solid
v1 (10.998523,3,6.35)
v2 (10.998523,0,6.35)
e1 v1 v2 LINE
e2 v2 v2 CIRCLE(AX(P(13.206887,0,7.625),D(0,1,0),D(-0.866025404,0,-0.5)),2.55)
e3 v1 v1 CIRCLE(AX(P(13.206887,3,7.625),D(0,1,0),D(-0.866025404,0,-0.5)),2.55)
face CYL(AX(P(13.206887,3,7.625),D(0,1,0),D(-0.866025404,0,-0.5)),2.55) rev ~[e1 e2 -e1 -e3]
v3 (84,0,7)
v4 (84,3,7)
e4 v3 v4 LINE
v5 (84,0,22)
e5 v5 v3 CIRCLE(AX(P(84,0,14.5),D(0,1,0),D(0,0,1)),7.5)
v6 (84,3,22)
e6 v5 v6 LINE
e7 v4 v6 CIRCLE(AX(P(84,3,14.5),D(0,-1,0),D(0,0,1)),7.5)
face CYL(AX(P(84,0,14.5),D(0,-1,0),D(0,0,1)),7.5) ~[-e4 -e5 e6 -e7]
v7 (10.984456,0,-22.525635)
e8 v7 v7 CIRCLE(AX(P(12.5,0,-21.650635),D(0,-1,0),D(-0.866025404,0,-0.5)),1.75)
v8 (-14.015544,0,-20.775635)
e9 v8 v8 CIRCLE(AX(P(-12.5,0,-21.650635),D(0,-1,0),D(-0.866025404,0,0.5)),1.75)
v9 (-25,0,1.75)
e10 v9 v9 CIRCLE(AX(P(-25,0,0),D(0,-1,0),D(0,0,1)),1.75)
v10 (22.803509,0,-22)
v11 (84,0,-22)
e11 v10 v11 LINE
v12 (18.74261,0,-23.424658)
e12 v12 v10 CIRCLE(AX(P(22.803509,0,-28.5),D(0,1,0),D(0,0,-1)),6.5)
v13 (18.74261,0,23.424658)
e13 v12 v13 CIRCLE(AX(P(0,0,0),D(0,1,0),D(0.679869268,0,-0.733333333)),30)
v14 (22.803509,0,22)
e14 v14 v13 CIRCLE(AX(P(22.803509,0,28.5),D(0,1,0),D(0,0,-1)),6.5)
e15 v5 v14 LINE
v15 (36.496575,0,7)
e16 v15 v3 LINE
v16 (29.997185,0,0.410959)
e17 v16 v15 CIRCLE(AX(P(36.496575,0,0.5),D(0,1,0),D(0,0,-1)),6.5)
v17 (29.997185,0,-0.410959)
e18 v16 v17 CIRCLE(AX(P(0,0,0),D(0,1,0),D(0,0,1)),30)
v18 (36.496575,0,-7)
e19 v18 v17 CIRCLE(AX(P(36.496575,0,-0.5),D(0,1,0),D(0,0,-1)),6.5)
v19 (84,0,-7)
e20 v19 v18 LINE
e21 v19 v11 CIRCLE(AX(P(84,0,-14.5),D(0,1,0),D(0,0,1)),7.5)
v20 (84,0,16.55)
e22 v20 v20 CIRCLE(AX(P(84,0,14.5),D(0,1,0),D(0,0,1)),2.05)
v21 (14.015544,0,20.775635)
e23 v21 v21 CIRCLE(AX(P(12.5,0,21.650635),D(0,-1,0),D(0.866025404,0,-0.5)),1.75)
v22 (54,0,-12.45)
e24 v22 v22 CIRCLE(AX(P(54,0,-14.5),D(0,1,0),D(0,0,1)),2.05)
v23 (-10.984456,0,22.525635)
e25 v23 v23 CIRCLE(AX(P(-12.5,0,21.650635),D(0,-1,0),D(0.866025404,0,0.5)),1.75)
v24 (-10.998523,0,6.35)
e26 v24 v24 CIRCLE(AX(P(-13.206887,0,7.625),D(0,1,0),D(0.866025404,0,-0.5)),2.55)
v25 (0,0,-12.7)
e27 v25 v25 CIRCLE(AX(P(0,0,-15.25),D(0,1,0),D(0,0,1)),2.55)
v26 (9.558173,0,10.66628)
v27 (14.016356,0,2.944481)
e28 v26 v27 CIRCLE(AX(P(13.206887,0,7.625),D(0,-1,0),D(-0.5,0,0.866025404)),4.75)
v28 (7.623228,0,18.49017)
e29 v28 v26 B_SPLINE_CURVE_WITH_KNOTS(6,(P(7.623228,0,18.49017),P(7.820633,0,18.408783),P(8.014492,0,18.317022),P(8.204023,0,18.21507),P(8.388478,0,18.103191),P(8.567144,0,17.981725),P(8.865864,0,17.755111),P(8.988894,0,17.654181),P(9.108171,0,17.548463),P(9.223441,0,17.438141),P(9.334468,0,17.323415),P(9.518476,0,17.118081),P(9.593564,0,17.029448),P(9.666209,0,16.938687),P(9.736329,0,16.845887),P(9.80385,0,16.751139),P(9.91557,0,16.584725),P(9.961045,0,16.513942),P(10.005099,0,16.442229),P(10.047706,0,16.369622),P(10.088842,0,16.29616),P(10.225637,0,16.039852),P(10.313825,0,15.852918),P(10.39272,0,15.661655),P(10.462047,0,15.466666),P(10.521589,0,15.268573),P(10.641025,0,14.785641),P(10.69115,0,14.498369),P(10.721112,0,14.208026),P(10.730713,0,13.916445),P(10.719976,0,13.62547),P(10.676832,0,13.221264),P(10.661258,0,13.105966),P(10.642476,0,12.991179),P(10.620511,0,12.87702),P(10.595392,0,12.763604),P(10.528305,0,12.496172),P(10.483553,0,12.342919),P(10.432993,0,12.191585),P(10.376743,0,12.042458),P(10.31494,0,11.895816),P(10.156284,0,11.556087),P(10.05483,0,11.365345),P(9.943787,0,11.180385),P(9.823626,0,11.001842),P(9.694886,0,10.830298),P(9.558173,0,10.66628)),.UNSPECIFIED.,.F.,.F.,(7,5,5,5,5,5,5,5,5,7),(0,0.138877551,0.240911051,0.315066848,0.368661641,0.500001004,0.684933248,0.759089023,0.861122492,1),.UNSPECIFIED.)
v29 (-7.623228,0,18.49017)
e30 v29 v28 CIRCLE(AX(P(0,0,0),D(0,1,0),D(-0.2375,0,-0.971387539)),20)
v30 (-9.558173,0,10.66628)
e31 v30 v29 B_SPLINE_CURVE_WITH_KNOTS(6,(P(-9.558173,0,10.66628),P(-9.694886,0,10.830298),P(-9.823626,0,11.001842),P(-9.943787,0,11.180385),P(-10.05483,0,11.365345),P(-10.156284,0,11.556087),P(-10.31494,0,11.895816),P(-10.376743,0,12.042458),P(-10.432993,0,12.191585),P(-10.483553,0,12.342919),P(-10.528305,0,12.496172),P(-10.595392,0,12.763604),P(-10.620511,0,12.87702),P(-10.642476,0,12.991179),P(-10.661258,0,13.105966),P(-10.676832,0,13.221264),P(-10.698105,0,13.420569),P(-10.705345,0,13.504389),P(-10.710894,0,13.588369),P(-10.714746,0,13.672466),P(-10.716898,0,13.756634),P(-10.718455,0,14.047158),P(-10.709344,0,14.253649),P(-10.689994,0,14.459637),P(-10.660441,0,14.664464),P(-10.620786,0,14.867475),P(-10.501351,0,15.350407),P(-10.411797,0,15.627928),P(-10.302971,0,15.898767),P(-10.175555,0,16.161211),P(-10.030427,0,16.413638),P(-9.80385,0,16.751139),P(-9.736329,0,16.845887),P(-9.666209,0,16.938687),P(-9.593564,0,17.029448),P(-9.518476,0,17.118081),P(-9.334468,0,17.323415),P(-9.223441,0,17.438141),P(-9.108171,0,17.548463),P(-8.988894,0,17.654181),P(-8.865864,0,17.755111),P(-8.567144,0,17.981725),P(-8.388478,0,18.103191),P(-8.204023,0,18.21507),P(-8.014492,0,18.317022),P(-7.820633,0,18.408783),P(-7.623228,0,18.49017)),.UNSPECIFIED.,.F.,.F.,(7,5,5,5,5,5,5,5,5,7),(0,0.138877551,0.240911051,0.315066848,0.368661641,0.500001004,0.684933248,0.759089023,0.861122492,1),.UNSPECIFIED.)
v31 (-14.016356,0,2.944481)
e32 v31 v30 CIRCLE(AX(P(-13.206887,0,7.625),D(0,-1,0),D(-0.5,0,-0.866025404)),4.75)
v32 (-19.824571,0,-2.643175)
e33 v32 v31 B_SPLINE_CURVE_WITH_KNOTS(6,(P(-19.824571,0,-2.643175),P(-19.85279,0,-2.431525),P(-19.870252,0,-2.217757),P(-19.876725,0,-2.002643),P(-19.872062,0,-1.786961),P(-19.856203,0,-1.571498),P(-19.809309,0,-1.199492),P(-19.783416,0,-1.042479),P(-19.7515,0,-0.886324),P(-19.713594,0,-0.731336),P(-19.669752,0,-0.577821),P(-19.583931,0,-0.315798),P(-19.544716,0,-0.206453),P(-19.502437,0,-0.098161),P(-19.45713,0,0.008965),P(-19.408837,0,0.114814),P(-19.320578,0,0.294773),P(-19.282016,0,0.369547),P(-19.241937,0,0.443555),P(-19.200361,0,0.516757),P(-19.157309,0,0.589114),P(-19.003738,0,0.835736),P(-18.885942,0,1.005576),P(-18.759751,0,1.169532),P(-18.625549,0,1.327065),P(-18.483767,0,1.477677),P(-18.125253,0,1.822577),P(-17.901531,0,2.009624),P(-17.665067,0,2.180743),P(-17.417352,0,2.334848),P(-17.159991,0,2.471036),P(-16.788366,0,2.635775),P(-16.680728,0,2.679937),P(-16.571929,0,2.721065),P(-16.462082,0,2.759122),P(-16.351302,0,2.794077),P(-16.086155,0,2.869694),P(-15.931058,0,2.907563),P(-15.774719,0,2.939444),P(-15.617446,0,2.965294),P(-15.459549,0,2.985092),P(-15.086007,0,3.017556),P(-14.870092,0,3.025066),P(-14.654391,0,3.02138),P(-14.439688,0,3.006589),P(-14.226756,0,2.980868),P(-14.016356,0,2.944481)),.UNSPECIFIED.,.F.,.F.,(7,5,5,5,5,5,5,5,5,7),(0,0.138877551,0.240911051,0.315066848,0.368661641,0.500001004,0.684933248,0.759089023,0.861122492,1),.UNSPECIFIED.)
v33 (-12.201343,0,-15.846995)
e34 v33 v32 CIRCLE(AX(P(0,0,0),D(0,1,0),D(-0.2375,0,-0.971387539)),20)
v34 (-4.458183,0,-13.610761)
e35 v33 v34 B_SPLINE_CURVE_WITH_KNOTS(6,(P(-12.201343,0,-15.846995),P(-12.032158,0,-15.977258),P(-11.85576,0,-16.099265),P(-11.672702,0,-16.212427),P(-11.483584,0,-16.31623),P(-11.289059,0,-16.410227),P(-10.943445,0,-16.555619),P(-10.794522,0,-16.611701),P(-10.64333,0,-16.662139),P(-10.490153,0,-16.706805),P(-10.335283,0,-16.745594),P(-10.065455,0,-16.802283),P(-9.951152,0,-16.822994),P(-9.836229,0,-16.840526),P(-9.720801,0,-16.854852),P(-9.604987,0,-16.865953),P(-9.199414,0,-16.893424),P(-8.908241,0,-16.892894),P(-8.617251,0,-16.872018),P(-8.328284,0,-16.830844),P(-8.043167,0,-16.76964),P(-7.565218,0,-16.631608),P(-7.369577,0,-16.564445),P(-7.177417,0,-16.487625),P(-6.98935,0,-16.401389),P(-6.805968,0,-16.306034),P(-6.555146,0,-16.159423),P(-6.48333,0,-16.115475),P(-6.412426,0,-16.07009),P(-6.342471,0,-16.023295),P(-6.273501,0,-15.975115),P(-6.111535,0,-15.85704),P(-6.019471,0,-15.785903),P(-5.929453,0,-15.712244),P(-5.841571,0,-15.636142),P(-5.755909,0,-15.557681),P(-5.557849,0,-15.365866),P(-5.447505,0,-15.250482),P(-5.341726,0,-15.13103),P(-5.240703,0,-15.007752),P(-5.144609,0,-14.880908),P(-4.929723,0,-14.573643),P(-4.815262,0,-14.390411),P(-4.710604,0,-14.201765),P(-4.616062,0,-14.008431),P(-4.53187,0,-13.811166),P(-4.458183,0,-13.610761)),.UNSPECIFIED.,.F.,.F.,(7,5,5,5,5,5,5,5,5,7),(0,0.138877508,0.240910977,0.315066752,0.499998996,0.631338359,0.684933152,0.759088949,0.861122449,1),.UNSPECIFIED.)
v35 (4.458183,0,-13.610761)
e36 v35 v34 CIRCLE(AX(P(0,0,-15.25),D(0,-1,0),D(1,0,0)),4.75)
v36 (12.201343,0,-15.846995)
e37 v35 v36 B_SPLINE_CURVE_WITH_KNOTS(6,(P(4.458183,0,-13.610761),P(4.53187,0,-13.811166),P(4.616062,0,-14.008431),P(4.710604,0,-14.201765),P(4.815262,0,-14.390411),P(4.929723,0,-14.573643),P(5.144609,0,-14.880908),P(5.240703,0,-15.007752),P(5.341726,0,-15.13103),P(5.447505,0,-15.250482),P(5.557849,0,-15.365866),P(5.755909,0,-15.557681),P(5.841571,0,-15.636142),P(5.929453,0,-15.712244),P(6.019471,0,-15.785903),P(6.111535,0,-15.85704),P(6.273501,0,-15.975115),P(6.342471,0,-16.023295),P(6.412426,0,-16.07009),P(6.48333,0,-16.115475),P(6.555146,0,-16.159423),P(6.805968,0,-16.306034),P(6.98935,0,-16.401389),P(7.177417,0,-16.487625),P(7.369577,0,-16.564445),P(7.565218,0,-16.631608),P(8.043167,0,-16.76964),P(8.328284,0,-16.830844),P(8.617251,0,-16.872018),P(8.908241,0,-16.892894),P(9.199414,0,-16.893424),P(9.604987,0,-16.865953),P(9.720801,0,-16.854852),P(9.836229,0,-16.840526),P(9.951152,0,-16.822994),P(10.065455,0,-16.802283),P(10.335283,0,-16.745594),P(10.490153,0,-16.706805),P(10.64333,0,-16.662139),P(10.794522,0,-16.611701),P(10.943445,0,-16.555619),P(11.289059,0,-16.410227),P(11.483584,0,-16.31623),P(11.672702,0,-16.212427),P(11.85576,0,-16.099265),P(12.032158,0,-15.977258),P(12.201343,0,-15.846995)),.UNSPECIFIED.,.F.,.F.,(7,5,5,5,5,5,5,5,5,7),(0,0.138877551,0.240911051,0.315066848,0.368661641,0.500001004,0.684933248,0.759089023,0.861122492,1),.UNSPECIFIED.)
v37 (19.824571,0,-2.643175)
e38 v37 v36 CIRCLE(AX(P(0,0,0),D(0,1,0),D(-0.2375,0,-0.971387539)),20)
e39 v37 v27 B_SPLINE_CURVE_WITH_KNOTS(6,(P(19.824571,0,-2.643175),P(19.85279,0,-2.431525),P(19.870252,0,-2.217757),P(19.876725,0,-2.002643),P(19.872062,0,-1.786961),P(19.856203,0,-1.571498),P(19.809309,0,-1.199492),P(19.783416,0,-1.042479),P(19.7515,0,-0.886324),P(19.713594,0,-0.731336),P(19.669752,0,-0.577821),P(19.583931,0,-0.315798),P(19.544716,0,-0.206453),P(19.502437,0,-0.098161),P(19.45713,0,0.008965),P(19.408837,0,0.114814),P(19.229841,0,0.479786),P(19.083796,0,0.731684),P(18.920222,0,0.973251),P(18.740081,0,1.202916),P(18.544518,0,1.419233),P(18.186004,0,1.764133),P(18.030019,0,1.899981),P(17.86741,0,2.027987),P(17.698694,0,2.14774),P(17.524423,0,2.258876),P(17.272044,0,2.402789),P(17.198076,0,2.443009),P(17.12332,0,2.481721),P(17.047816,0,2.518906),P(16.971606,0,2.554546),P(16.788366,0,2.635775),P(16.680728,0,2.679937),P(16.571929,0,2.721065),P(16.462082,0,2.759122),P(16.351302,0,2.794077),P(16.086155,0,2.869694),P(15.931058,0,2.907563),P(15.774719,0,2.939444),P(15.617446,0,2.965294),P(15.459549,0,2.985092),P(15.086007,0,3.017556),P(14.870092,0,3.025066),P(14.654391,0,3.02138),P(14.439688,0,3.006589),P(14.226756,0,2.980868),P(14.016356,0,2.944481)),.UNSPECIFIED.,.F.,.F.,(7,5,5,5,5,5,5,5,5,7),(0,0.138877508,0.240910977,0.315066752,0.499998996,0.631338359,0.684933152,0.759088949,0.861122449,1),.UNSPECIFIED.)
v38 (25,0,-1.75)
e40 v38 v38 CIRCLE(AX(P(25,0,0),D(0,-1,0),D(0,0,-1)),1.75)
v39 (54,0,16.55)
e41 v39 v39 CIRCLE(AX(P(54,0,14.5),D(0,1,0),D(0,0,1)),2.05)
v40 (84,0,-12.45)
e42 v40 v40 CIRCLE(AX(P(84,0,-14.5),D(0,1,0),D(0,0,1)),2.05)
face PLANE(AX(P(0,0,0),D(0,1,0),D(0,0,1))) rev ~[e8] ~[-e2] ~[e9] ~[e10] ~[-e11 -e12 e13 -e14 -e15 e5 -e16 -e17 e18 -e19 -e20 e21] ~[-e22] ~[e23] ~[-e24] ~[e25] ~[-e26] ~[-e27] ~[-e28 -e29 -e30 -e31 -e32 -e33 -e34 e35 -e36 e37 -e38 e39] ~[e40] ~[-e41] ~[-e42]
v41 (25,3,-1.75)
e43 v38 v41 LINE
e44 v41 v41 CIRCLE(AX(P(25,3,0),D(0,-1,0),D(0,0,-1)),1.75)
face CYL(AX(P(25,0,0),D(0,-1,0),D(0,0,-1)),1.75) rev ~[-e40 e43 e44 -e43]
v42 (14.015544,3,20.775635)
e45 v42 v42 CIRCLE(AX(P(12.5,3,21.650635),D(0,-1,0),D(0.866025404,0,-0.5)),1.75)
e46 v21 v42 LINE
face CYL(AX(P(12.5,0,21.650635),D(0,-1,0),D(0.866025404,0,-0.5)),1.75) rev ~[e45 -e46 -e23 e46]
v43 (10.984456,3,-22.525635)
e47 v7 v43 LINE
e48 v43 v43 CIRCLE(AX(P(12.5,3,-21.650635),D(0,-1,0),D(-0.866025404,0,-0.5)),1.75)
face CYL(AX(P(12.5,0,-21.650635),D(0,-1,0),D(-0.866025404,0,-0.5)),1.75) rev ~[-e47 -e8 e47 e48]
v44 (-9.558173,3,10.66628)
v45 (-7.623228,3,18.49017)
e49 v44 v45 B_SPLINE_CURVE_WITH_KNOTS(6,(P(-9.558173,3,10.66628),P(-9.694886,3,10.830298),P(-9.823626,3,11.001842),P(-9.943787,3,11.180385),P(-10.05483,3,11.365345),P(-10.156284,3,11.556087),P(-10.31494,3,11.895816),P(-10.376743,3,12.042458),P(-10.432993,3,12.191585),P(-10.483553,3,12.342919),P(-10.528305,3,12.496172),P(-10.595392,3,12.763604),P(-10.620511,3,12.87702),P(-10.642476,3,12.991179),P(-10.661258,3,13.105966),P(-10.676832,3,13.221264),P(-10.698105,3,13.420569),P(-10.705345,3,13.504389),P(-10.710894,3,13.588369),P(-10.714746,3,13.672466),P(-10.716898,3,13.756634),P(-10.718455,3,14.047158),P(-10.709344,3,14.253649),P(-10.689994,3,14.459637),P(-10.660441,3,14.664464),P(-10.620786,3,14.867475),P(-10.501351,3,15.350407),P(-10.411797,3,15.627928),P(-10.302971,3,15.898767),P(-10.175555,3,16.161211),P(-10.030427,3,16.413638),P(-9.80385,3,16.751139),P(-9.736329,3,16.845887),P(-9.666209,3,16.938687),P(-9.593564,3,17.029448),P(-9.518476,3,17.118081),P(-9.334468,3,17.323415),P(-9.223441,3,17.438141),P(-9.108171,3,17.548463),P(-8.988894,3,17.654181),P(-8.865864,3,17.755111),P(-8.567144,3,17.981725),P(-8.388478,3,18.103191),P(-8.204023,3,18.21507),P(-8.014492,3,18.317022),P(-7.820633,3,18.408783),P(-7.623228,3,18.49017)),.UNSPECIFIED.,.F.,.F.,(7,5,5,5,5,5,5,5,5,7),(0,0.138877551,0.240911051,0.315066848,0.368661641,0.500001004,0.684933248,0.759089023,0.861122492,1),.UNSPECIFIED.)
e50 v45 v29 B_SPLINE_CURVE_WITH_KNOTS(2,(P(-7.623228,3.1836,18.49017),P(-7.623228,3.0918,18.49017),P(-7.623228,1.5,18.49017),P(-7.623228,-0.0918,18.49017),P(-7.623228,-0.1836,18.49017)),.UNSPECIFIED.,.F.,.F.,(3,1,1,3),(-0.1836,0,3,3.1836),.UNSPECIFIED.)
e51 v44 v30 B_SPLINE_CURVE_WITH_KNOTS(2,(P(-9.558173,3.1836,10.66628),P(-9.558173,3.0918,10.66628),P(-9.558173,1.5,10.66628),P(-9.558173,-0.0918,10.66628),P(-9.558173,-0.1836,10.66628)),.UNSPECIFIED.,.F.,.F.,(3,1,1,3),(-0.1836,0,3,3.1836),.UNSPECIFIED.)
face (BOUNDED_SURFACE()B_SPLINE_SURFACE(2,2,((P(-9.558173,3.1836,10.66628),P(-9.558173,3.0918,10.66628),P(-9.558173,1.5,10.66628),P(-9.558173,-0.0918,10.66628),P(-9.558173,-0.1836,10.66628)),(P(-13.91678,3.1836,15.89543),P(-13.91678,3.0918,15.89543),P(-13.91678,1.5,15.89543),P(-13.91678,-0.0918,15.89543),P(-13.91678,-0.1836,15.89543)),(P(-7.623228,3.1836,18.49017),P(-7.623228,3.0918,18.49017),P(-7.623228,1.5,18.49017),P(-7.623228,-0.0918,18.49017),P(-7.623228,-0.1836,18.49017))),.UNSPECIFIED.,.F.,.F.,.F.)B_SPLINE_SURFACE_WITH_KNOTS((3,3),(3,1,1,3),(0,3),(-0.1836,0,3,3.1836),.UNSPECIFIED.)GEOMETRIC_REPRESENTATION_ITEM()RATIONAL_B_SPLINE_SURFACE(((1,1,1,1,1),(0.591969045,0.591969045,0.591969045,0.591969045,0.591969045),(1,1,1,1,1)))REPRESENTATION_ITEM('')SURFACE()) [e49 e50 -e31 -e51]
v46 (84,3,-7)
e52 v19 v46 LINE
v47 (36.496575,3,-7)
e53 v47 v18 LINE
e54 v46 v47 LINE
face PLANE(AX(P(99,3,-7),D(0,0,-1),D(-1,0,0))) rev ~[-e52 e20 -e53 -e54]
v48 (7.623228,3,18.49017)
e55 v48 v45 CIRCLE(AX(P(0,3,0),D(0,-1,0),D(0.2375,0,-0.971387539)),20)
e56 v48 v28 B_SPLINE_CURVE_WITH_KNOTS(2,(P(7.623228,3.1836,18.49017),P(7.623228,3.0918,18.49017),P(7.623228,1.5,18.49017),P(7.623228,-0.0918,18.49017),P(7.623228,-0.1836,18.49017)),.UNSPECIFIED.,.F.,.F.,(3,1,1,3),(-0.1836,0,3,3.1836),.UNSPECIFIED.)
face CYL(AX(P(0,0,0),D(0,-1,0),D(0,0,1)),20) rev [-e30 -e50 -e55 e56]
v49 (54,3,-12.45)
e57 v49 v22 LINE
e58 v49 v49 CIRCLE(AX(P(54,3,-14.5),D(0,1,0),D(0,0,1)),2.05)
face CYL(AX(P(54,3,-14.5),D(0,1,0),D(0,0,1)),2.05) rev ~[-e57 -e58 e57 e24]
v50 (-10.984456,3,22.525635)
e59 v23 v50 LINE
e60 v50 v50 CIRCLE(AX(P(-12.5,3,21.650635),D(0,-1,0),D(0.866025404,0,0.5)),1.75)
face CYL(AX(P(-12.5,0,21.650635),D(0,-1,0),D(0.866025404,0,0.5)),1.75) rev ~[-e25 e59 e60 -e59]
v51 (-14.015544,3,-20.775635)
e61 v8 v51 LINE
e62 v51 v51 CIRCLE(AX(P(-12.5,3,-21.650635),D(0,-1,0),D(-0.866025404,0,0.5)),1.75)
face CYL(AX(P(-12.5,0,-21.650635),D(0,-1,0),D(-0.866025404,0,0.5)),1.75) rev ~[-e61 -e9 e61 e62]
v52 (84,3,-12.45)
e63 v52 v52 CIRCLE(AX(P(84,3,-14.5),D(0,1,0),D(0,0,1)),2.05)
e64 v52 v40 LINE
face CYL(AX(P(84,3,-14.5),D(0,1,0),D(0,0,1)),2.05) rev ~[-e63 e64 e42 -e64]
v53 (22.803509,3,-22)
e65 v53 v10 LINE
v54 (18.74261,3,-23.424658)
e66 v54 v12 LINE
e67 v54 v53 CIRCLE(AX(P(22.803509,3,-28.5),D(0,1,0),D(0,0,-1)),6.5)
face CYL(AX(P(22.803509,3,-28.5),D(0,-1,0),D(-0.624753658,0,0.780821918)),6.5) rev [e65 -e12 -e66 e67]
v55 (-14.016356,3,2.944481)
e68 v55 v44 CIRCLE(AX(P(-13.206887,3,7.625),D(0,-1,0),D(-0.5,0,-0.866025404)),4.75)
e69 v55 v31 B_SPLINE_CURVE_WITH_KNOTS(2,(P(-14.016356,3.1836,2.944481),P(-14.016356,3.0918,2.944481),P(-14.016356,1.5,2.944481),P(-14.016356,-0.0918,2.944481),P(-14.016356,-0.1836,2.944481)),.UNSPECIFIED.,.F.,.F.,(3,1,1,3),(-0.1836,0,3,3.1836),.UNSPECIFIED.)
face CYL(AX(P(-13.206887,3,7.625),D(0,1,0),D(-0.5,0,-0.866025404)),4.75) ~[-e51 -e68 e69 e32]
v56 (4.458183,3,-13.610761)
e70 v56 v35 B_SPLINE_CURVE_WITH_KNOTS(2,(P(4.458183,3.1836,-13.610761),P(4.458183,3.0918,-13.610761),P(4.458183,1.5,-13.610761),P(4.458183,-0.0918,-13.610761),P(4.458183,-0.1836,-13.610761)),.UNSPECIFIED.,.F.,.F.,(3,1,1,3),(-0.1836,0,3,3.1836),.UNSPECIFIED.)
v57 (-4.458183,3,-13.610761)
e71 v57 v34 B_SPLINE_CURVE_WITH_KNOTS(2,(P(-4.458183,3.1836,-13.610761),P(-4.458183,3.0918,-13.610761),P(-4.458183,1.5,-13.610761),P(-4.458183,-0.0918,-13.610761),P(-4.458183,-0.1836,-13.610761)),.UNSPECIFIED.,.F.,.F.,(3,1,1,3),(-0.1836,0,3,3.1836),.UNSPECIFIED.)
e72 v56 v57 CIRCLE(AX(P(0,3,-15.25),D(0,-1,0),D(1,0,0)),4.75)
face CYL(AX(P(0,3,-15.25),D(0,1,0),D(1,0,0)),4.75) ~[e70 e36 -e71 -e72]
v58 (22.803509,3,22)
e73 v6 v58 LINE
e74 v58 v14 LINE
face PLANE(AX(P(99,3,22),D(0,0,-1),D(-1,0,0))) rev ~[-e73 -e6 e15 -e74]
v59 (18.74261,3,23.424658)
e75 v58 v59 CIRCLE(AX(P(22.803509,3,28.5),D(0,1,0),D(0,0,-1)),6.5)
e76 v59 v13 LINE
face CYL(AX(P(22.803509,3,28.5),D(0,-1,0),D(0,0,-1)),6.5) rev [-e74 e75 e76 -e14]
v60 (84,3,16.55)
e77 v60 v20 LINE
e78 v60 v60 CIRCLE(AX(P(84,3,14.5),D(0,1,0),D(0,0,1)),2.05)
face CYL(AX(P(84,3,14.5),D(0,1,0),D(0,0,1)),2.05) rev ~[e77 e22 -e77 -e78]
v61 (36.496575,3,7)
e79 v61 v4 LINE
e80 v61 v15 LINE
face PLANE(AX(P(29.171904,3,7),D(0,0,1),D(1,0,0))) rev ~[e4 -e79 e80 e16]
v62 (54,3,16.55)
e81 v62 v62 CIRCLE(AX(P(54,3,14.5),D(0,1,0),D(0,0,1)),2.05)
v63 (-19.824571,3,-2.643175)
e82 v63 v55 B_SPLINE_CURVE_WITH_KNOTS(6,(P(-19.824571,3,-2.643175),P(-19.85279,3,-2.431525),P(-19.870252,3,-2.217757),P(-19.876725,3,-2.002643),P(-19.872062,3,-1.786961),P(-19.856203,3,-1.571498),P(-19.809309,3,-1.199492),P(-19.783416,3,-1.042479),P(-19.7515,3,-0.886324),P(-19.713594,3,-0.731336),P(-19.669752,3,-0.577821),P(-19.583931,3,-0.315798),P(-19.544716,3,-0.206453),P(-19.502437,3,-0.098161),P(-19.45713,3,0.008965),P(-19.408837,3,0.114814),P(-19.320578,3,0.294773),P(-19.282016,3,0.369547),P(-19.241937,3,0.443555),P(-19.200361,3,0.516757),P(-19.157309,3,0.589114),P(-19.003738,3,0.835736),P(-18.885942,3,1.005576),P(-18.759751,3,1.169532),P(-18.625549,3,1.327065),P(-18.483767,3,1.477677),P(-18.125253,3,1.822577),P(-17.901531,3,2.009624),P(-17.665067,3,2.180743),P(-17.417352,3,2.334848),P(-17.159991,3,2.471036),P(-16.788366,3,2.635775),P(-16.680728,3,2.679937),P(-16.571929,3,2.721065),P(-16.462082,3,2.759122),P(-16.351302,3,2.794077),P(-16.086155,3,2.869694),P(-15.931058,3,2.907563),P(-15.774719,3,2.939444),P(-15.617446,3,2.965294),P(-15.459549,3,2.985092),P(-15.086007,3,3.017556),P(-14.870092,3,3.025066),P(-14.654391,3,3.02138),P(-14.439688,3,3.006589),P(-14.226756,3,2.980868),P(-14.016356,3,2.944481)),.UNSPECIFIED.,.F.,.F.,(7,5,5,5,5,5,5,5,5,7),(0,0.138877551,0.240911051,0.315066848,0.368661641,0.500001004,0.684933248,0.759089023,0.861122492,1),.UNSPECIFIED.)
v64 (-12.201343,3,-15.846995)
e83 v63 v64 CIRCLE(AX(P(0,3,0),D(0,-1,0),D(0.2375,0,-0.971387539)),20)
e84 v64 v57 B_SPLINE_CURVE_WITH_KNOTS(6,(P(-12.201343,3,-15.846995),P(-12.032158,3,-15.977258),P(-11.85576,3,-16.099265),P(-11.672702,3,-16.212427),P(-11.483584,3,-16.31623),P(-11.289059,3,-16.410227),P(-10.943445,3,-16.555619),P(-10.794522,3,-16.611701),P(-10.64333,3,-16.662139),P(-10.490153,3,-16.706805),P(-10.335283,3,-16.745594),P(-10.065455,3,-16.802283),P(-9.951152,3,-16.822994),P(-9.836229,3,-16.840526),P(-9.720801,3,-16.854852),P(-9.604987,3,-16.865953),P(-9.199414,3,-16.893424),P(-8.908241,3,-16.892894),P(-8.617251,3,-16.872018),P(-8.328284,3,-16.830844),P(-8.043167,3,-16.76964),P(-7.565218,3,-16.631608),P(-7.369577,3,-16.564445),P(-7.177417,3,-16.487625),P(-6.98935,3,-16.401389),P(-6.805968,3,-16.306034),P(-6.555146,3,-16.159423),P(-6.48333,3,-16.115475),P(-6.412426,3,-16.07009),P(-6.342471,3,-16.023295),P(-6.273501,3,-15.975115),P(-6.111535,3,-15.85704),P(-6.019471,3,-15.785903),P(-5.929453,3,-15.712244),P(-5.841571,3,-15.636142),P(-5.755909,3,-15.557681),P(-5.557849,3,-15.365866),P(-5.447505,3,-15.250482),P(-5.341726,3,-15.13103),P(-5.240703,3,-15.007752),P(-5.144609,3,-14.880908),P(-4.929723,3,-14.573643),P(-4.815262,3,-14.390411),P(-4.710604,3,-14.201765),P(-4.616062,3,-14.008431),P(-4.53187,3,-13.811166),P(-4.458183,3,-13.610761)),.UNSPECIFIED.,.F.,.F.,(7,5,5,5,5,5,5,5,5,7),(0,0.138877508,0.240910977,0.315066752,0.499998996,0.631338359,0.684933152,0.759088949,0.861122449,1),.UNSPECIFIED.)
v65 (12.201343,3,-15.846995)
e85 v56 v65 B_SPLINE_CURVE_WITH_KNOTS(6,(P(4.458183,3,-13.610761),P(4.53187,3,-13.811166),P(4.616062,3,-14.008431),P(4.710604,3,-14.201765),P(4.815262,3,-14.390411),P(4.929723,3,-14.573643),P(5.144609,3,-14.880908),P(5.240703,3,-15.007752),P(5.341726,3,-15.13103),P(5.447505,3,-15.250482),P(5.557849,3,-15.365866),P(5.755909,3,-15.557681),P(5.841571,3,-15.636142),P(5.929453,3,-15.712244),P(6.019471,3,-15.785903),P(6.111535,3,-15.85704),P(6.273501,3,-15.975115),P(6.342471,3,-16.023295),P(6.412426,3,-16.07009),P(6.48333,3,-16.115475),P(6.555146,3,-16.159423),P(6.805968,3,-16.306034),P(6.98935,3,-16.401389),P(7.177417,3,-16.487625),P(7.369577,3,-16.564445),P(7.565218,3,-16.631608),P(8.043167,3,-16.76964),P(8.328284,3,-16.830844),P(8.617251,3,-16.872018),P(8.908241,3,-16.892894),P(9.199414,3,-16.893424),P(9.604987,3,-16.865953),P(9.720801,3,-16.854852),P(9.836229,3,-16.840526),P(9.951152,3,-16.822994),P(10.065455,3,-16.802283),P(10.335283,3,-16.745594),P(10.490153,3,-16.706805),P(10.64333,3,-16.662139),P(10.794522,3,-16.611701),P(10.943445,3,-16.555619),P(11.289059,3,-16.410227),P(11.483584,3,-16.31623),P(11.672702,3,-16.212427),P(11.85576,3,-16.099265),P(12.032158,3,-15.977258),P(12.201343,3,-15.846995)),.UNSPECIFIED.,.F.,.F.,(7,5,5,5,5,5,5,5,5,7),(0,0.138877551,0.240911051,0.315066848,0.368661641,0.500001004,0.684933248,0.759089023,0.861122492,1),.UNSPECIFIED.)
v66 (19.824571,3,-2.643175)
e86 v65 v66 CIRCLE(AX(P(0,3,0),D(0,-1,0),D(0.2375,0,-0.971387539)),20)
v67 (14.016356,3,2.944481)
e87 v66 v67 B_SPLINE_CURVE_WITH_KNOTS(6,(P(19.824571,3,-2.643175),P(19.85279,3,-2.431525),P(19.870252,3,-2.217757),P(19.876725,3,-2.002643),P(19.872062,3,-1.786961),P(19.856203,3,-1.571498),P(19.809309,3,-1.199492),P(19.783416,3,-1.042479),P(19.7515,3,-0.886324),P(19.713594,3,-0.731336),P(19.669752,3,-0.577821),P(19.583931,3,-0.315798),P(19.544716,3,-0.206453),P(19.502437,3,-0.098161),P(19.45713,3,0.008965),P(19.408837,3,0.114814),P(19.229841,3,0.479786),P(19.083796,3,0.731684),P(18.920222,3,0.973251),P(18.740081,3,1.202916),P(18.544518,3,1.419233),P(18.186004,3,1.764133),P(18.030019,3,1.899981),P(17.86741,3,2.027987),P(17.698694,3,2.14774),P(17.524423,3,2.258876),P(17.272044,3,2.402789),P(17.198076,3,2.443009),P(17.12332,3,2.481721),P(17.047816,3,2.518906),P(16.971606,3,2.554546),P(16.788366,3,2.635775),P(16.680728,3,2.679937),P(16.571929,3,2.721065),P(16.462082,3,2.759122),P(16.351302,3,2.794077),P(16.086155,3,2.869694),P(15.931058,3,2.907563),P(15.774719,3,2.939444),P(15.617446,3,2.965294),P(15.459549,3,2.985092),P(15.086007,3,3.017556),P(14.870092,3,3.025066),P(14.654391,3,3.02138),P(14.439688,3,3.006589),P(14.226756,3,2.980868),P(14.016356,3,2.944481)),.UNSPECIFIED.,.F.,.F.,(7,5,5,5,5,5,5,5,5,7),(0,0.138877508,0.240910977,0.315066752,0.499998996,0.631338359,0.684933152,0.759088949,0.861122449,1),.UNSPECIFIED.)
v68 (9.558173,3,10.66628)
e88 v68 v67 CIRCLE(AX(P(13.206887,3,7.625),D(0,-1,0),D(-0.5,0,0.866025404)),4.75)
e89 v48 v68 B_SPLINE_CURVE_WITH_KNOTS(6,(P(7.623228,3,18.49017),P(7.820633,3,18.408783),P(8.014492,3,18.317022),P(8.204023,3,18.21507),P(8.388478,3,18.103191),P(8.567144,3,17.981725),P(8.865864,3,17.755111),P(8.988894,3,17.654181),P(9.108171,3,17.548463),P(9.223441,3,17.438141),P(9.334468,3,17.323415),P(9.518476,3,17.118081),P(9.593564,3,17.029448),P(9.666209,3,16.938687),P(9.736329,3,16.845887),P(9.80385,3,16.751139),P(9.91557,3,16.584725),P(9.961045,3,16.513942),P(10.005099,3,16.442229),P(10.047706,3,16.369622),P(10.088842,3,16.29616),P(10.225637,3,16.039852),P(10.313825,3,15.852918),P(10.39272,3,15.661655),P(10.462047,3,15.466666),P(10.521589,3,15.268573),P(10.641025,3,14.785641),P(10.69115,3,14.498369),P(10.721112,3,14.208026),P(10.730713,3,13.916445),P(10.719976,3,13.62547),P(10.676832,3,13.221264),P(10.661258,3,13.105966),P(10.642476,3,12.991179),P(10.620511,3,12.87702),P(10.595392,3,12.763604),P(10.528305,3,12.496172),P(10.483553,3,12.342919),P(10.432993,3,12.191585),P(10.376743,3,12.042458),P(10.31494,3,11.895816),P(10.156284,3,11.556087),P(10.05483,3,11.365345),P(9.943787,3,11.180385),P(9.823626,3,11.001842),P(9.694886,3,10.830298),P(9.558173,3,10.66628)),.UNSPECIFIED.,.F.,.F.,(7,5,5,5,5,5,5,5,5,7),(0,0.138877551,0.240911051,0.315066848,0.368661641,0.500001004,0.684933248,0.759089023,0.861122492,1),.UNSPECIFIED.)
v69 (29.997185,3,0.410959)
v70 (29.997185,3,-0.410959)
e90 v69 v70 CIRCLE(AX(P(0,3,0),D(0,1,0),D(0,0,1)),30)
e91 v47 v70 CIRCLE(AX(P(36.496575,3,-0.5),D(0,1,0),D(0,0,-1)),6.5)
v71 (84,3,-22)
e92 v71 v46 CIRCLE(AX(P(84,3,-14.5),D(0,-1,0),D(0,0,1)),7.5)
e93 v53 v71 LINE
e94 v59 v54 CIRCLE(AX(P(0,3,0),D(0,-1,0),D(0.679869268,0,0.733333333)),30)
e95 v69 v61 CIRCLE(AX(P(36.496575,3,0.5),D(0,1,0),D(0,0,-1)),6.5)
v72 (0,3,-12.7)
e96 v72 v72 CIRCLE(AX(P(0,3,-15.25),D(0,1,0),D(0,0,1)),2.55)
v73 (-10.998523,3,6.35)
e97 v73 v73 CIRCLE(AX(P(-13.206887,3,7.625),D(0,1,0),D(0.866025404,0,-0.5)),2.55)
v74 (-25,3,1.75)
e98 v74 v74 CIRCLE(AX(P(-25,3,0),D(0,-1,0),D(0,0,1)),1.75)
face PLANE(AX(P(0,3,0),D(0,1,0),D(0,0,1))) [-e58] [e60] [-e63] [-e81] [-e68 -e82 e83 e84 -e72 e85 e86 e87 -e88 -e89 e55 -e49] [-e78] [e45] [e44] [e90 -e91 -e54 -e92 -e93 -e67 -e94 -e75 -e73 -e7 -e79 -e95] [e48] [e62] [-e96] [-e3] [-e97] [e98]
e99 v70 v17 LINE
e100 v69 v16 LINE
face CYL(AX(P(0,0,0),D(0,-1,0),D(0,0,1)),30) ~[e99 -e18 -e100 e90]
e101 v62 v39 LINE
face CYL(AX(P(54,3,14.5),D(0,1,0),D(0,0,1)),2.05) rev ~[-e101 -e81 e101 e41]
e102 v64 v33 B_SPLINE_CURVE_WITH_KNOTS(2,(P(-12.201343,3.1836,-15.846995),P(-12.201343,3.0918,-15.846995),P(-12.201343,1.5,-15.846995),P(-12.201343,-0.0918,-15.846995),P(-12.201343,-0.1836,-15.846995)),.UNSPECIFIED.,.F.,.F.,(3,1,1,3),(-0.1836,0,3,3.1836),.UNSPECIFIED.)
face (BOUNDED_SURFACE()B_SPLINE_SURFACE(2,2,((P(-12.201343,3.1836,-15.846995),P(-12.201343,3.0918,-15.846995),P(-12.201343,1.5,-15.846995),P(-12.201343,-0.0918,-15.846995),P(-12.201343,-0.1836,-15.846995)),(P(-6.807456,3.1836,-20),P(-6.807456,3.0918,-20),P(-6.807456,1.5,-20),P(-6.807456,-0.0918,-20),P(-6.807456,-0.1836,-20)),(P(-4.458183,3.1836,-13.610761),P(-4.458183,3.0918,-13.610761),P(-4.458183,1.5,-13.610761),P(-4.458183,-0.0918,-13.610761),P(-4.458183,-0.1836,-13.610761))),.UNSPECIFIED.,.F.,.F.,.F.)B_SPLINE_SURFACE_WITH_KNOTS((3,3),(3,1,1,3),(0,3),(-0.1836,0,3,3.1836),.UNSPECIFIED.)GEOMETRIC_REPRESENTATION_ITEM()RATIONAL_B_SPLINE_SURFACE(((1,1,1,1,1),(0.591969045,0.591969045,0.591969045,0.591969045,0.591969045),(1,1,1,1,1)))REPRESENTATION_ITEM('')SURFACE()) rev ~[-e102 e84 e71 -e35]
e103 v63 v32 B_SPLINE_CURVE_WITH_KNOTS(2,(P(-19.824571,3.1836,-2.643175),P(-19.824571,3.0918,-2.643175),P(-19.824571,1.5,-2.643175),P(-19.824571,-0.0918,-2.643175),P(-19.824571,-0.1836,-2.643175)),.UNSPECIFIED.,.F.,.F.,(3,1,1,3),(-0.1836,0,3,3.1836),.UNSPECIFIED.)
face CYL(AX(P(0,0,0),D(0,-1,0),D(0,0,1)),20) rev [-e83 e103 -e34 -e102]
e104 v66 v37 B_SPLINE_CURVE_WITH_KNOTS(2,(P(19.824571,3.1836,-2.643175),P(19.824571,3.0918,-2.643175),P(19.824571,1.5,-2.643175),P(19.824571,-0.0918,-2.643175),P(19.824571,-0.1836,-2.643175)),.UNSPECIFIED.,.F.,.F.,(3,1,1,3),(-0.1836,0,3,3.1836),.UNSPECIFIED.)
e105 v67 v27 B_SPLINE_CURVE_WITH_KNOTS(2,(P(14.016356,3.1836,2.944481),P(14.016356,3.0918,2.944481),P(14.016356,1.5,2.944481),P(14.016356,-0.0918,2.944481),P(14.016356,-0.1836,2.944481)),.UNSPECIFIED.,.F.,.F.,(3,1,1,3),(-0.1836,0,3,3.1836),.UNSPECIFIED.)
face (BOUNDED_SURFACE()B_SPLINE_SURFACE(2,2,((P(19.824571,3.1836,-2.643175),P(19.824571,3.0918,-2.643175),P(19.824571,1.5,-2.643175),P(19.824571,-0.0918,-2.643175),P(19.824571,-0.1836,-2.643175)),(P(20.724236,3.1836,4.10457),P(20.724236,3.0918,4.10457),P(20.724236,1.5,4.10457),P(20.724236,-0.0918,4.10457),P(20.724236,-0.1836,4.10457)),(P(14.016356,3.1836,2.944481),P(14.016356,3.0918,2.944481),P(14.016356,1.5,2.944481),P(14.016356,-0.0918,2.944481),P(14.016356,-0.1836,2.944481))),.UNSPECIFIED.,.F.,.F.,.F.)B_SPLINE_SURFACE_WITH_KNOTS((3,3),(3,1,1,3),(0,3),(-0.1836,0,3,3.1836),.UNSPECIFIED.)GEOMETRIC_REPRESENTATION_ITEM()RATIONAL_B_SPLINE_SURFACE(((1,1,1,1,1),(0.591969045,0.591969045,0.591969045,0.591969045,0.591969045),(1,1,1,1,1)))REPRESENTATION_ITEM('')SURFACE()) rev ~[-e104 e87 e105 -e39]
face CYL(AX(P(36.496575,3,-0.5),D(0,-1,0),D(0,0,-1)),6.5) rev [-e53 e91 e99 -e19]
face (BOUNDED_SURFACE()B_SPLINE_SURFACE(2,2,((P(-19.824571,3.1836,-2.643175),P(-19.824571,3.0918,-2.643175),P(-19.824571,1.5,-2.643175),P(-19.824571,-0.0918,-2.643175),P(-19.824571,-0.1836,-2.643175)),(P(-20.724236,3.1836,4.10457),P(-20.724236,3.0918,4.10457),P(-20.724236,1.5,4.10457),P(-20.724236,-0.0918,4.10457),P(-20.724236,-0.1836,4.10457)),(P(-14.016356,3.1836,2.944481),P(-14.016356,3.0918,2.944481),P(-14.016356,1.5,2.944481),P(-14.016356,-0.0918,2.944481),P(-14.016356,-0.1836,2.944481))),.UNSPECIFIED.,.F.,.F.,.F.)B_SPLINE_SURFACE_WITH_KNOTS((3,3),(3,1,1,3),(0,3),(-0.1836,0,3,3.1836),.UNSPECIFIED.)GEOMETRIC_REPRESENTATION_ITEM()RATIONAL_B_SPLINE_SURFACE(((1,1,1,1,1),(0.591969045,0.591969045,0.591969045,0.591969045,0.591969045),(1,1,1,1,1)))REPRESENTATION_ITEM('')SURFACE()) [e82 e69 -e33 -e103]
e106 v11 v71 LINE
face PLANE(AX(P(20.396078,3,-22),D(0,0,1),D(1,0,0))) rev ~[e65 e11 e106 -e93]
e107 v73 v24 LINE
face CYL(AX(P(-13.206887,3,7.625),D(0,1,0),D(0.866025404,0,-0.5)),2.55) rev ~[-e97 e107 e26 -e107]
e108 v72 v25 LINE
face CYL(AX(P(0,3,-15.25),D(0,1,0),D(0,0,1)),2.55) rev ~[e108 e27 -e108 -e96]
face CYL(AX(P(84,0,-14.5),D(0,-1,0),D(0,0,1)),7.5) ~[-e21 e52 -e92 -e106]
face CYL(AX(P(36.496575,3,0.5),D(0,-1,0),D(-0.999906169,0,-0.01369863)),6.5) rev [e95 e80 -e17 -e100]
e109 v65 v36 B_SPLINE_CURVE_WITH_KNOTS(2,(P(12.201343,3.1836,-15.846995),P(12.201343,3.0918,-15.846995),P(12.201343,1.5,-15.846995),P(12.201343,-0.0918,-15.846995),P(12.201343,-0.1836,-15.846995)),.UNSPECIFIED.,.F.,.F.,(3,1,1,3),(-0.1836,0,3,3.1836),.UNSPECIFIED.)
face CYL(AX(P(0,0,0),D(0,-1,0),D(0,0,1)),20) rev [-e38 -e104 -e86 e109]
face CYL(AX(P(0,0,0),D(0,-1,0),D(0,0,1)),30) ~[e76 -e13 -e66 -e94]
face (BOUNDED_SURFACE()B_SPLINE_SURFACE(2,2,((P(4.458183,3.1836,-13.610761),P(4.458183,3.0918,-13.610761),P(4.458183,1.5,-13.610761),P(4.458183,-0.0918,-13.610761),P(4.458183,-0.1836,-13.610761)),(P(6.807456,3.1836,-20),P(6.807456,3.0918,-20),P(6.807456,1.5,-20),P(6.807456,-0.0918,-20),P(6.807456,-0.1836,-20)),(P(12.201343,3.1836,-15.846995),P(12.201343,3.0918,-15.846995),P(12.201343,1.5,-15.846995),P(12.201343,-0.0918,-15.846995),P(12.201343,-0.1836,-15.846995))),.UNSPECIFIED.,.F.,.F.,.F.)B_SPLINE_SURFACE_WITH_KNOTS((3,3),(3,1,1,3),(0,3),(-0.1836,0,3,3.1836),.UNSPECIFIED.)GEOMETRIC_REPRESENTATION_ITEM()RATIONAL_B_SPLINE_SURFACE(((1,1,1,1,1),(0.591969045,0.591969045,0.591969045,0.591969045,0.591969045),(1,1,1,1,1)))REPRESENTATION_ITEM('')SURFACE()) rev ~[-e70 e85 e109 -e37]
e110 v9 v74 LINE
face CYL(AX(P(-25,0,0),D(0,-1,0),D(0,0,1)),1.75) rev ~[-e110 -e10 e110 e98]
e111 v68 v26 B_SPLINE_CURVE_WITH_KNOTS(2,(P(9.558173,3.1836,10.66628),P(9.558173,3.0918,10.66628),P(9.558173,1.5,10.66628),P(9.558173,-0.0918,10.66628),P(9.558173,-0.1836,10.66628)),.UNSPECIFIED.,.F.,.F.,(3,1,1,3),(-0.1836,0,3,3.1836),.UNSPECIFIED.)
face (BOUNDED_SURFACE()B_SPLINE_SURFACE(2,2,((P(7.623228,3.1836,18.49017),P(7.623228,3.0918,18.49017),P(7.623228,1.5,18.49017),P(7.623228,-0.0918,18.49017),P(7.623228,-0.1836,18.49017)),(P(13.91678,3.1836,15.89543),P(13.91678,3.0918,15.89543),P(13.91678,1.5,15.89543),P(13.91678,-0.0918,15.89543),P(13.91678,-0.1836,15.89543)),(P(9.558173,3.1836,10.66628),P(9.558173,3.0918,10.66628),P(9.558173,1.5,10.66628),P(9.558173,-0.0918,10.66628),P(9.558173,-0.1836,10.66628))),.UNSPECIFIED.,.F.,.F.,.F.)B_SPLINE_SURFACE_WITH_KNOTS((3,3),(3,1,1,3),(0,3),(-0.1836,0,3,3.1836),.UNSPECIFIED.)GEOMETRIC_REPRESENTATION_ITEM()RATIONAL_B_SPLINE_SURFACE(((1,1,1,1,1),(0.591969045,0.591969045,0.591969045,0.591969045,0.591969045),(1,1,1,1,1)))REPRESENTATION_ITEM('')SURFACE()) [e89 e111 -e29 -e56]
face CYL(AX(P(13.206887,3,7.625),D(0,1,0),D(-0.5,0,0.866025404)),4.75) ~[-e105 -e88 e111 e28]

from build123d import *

# Parameters (mm, degrees)
SKETCH1_R           = 30
SKETCH1_R_2         = 20
BOSS_EXTRUDE1_DEPTH = 3
SKETCH2_R           = 2.55
BOSS_EXTRUDE2_DEPTH = 3
CIRPATTERN1_COUNT   = 3
BOSS_EXTRUDE3_DEPTH = 3
SKETCH4_R           = 2.05
CUT_EXTRUDE1_DEPTH  = 104.489129864
SKETCH6_R           = 1.75
CUT_EXTRUDE2_DEPTH  = 104.489129864
CIRPATTERN2_COUNT   = 6
CUT_EXTRUDE3_DEPTH  = 104.489129864
FILLET1_R           = 5
FILLET2_R           = 6.5


with BuildPart() as part:
    # Sketch1 → Boss-Extrude1 (new body)
    with BuildSketch(Plane(origin=(0, 0, 0), x_dir=(1, 0, 0), z_dir=(0, 1, 0))):
        with Locations(Location((0, 0, 0), (0, 0, 270))):
            Circle(SKETCH1_R)
        with Locations(Location((0, 0, 0), (0, 0, 270))):
            Circle(SKETCH1_R_2, mode=Mode.SUBTRACT)
    extrude(amount=BOSS_EXTRUDE1_DEPTH)

    # Sketch2 → Boss-Extrude2 (add)
    with BuildSketch(Plane(origin=(0, 3, 0), x_dir=(1, 0, 0), z_dir=(0, 1, 0))):
        with BuildLine():
            Line((-4.75, 15.25), (-4.75, 19.42775077))
            ThreePointArc((-4.75, 19.42775077), (0, 20), (4.75, 19.42775077))
            Line((4.75, 19.42775077), (4.75, 15.25))
            ThreePointArc((4.75, 15.25), (0, 10.5), (-4.75, 15.25))
        make_face()
        with Locations(Location((0, 15.25, 0), (0, 0, 270))):
            Circle(SKETCH2_R, mode=Mode.SUBTRACT)
    boss_extrude2 = extrude(amount=-BOSS_EXTRUDE2_DEPTH)

    # CirPattern1: Boss-Extrude2 ×3 about axis
    cirpattern1_axis = Axis((0, 0, 0), (0, 1, 0))
    for i in range(1, CIRPATTERN1_COUNT):
        add(boss_extrude2.rotate(cirpattern1_axis, i * 360 / CIRPATTERN1_COUNT))

    # Sketch3 → Boss-Extrude3 (add)
    with BuildSketch(Plane(origin=(0, 3, 0), x_dir=(1, 0, 0), z_dir=(0, 1, 0))):
        with BuildLine():
            Line((20.396078054, 22), (99, 22))
            Line((99, 22), (99, 7))
            Line((99, 7), (29.171904292, 7))
            ThreePointArc((29.171904292, 7), (25.893941733, 15.149382216), (20.396078054, 22))
        make_face()
        with BuildLine():
            Line((29.171904292, -7), (99, -7))
            Line((99, -7), (99, -22))
            Line((99, -22), (20.396078054, -22))
            ThreePointArc((20.396078054, -22), (25.893941733, -15.149382216), (29.171904292, -7))
        make_face()
    extrude(amount=-BOSS_EXTRUDE3_DEPTH)

    # Sketch4 → Cut-Extrude1 (cut, through all)
    with BuildSketch(Plane(origin=(0, 3, 0), x_dir=(1, 0, 0), z_dir=(0, 1, 0))):
        with Locations(Location((54, 14.5, 0), (0, 0, 270))):
            Circle(SKETCH4_R)
        with Locations(Location((84, 14.5, 0), (0, 0, 270))):
            Circle(SKETCH4_R)
        with Locations(Location((54, -14.5, 0), (0, 0, 270))):
            Circle(SKETCH4_R)
        with Locations(Location((84, -14.5, 0), (0, 0, 270))):
            Circle(SKETCH4_R)
    extrude(amount=-CUT_EXTRUDE1_DEPTH, mode=Mode.SUBTRACT)

    # Sketch6 → Cut-Extrude2 (cut, through all)
    with BuildSketch(Plane.XZ):
        with Locations(Location((25, 0, 0), (0, 0, 270))):
            Circle(SKETCH6_R)
    cut_extrude2 = extrude(amount=-CUT_EXTRUDE2_DEPTH, mode=Mode.SUBTRACT)

    # CirPattern2: Cut-Extrude2 ×6 about axis
    cirpattern2_axis = Axis((0, 0, 0), (0, 1, 0))
    for i in range(1, CIRPATTERN2_COUNT):
        add(cut_extrude2.rotate(cirpattern2_axis, i * 360 / CIRPATTERN2_COUNT), mode=Mode.SUBTRACT)

    # Sketch7 → Cut-Extrude3 (cut, through all)
    with BuildSketch(Plane.XZ):
        with BuildLine():
            Line((99, 22), (84, 22))
            ThreePointArc((84, 22), (91.5, 14.5), (84, 7))
            Line((84, 7), (99, 7))
            Line((99, 7), (99, 22))
        make_face()
        with BuildLine():
            Line((99, -7), (84, -7))
            ThreePointArc((84, -7), (91.5, -14.5), (84, -22))
            Line((84, -22), (99, -22))
            Line((99, -22), (99, -7))
        make_face()
    extrude(amount=-CUT_EXTRUDE3_DEPTH, mode=Mode.SUBTRACT)

    # Fillet1
    fillet1_edges = [part.edges().sort_by_distance(p)[0] for p in [
        (19.199925706, 1.5, 5.600254717),
        (14.449925706, 1.5, 13.827496053),
        (-19.199925706, 1.5, 5.600254717),
        (-14.449925706, 1.5, 13.827496053),
        (4.75, 1.5, -19.42775077),
        (-4.75, 1.5, -19.42775077),
    ]]
    fillet(fillet1_edges, radius=FILLET1_R)

    # Fillet2
    fillet2_edges = [part.edges().sort_by_distance(p)[0] for p in [
        (29.171904292, 1.5, -7),
        (20.396078054, 1.5, -22),
        (20.396078054, 1.5, 22),
        (29.171904292, 1.5, 7),
    ]]
    fillet(fillet2_edges, radius=FILLET2_R)


solid = part.part
